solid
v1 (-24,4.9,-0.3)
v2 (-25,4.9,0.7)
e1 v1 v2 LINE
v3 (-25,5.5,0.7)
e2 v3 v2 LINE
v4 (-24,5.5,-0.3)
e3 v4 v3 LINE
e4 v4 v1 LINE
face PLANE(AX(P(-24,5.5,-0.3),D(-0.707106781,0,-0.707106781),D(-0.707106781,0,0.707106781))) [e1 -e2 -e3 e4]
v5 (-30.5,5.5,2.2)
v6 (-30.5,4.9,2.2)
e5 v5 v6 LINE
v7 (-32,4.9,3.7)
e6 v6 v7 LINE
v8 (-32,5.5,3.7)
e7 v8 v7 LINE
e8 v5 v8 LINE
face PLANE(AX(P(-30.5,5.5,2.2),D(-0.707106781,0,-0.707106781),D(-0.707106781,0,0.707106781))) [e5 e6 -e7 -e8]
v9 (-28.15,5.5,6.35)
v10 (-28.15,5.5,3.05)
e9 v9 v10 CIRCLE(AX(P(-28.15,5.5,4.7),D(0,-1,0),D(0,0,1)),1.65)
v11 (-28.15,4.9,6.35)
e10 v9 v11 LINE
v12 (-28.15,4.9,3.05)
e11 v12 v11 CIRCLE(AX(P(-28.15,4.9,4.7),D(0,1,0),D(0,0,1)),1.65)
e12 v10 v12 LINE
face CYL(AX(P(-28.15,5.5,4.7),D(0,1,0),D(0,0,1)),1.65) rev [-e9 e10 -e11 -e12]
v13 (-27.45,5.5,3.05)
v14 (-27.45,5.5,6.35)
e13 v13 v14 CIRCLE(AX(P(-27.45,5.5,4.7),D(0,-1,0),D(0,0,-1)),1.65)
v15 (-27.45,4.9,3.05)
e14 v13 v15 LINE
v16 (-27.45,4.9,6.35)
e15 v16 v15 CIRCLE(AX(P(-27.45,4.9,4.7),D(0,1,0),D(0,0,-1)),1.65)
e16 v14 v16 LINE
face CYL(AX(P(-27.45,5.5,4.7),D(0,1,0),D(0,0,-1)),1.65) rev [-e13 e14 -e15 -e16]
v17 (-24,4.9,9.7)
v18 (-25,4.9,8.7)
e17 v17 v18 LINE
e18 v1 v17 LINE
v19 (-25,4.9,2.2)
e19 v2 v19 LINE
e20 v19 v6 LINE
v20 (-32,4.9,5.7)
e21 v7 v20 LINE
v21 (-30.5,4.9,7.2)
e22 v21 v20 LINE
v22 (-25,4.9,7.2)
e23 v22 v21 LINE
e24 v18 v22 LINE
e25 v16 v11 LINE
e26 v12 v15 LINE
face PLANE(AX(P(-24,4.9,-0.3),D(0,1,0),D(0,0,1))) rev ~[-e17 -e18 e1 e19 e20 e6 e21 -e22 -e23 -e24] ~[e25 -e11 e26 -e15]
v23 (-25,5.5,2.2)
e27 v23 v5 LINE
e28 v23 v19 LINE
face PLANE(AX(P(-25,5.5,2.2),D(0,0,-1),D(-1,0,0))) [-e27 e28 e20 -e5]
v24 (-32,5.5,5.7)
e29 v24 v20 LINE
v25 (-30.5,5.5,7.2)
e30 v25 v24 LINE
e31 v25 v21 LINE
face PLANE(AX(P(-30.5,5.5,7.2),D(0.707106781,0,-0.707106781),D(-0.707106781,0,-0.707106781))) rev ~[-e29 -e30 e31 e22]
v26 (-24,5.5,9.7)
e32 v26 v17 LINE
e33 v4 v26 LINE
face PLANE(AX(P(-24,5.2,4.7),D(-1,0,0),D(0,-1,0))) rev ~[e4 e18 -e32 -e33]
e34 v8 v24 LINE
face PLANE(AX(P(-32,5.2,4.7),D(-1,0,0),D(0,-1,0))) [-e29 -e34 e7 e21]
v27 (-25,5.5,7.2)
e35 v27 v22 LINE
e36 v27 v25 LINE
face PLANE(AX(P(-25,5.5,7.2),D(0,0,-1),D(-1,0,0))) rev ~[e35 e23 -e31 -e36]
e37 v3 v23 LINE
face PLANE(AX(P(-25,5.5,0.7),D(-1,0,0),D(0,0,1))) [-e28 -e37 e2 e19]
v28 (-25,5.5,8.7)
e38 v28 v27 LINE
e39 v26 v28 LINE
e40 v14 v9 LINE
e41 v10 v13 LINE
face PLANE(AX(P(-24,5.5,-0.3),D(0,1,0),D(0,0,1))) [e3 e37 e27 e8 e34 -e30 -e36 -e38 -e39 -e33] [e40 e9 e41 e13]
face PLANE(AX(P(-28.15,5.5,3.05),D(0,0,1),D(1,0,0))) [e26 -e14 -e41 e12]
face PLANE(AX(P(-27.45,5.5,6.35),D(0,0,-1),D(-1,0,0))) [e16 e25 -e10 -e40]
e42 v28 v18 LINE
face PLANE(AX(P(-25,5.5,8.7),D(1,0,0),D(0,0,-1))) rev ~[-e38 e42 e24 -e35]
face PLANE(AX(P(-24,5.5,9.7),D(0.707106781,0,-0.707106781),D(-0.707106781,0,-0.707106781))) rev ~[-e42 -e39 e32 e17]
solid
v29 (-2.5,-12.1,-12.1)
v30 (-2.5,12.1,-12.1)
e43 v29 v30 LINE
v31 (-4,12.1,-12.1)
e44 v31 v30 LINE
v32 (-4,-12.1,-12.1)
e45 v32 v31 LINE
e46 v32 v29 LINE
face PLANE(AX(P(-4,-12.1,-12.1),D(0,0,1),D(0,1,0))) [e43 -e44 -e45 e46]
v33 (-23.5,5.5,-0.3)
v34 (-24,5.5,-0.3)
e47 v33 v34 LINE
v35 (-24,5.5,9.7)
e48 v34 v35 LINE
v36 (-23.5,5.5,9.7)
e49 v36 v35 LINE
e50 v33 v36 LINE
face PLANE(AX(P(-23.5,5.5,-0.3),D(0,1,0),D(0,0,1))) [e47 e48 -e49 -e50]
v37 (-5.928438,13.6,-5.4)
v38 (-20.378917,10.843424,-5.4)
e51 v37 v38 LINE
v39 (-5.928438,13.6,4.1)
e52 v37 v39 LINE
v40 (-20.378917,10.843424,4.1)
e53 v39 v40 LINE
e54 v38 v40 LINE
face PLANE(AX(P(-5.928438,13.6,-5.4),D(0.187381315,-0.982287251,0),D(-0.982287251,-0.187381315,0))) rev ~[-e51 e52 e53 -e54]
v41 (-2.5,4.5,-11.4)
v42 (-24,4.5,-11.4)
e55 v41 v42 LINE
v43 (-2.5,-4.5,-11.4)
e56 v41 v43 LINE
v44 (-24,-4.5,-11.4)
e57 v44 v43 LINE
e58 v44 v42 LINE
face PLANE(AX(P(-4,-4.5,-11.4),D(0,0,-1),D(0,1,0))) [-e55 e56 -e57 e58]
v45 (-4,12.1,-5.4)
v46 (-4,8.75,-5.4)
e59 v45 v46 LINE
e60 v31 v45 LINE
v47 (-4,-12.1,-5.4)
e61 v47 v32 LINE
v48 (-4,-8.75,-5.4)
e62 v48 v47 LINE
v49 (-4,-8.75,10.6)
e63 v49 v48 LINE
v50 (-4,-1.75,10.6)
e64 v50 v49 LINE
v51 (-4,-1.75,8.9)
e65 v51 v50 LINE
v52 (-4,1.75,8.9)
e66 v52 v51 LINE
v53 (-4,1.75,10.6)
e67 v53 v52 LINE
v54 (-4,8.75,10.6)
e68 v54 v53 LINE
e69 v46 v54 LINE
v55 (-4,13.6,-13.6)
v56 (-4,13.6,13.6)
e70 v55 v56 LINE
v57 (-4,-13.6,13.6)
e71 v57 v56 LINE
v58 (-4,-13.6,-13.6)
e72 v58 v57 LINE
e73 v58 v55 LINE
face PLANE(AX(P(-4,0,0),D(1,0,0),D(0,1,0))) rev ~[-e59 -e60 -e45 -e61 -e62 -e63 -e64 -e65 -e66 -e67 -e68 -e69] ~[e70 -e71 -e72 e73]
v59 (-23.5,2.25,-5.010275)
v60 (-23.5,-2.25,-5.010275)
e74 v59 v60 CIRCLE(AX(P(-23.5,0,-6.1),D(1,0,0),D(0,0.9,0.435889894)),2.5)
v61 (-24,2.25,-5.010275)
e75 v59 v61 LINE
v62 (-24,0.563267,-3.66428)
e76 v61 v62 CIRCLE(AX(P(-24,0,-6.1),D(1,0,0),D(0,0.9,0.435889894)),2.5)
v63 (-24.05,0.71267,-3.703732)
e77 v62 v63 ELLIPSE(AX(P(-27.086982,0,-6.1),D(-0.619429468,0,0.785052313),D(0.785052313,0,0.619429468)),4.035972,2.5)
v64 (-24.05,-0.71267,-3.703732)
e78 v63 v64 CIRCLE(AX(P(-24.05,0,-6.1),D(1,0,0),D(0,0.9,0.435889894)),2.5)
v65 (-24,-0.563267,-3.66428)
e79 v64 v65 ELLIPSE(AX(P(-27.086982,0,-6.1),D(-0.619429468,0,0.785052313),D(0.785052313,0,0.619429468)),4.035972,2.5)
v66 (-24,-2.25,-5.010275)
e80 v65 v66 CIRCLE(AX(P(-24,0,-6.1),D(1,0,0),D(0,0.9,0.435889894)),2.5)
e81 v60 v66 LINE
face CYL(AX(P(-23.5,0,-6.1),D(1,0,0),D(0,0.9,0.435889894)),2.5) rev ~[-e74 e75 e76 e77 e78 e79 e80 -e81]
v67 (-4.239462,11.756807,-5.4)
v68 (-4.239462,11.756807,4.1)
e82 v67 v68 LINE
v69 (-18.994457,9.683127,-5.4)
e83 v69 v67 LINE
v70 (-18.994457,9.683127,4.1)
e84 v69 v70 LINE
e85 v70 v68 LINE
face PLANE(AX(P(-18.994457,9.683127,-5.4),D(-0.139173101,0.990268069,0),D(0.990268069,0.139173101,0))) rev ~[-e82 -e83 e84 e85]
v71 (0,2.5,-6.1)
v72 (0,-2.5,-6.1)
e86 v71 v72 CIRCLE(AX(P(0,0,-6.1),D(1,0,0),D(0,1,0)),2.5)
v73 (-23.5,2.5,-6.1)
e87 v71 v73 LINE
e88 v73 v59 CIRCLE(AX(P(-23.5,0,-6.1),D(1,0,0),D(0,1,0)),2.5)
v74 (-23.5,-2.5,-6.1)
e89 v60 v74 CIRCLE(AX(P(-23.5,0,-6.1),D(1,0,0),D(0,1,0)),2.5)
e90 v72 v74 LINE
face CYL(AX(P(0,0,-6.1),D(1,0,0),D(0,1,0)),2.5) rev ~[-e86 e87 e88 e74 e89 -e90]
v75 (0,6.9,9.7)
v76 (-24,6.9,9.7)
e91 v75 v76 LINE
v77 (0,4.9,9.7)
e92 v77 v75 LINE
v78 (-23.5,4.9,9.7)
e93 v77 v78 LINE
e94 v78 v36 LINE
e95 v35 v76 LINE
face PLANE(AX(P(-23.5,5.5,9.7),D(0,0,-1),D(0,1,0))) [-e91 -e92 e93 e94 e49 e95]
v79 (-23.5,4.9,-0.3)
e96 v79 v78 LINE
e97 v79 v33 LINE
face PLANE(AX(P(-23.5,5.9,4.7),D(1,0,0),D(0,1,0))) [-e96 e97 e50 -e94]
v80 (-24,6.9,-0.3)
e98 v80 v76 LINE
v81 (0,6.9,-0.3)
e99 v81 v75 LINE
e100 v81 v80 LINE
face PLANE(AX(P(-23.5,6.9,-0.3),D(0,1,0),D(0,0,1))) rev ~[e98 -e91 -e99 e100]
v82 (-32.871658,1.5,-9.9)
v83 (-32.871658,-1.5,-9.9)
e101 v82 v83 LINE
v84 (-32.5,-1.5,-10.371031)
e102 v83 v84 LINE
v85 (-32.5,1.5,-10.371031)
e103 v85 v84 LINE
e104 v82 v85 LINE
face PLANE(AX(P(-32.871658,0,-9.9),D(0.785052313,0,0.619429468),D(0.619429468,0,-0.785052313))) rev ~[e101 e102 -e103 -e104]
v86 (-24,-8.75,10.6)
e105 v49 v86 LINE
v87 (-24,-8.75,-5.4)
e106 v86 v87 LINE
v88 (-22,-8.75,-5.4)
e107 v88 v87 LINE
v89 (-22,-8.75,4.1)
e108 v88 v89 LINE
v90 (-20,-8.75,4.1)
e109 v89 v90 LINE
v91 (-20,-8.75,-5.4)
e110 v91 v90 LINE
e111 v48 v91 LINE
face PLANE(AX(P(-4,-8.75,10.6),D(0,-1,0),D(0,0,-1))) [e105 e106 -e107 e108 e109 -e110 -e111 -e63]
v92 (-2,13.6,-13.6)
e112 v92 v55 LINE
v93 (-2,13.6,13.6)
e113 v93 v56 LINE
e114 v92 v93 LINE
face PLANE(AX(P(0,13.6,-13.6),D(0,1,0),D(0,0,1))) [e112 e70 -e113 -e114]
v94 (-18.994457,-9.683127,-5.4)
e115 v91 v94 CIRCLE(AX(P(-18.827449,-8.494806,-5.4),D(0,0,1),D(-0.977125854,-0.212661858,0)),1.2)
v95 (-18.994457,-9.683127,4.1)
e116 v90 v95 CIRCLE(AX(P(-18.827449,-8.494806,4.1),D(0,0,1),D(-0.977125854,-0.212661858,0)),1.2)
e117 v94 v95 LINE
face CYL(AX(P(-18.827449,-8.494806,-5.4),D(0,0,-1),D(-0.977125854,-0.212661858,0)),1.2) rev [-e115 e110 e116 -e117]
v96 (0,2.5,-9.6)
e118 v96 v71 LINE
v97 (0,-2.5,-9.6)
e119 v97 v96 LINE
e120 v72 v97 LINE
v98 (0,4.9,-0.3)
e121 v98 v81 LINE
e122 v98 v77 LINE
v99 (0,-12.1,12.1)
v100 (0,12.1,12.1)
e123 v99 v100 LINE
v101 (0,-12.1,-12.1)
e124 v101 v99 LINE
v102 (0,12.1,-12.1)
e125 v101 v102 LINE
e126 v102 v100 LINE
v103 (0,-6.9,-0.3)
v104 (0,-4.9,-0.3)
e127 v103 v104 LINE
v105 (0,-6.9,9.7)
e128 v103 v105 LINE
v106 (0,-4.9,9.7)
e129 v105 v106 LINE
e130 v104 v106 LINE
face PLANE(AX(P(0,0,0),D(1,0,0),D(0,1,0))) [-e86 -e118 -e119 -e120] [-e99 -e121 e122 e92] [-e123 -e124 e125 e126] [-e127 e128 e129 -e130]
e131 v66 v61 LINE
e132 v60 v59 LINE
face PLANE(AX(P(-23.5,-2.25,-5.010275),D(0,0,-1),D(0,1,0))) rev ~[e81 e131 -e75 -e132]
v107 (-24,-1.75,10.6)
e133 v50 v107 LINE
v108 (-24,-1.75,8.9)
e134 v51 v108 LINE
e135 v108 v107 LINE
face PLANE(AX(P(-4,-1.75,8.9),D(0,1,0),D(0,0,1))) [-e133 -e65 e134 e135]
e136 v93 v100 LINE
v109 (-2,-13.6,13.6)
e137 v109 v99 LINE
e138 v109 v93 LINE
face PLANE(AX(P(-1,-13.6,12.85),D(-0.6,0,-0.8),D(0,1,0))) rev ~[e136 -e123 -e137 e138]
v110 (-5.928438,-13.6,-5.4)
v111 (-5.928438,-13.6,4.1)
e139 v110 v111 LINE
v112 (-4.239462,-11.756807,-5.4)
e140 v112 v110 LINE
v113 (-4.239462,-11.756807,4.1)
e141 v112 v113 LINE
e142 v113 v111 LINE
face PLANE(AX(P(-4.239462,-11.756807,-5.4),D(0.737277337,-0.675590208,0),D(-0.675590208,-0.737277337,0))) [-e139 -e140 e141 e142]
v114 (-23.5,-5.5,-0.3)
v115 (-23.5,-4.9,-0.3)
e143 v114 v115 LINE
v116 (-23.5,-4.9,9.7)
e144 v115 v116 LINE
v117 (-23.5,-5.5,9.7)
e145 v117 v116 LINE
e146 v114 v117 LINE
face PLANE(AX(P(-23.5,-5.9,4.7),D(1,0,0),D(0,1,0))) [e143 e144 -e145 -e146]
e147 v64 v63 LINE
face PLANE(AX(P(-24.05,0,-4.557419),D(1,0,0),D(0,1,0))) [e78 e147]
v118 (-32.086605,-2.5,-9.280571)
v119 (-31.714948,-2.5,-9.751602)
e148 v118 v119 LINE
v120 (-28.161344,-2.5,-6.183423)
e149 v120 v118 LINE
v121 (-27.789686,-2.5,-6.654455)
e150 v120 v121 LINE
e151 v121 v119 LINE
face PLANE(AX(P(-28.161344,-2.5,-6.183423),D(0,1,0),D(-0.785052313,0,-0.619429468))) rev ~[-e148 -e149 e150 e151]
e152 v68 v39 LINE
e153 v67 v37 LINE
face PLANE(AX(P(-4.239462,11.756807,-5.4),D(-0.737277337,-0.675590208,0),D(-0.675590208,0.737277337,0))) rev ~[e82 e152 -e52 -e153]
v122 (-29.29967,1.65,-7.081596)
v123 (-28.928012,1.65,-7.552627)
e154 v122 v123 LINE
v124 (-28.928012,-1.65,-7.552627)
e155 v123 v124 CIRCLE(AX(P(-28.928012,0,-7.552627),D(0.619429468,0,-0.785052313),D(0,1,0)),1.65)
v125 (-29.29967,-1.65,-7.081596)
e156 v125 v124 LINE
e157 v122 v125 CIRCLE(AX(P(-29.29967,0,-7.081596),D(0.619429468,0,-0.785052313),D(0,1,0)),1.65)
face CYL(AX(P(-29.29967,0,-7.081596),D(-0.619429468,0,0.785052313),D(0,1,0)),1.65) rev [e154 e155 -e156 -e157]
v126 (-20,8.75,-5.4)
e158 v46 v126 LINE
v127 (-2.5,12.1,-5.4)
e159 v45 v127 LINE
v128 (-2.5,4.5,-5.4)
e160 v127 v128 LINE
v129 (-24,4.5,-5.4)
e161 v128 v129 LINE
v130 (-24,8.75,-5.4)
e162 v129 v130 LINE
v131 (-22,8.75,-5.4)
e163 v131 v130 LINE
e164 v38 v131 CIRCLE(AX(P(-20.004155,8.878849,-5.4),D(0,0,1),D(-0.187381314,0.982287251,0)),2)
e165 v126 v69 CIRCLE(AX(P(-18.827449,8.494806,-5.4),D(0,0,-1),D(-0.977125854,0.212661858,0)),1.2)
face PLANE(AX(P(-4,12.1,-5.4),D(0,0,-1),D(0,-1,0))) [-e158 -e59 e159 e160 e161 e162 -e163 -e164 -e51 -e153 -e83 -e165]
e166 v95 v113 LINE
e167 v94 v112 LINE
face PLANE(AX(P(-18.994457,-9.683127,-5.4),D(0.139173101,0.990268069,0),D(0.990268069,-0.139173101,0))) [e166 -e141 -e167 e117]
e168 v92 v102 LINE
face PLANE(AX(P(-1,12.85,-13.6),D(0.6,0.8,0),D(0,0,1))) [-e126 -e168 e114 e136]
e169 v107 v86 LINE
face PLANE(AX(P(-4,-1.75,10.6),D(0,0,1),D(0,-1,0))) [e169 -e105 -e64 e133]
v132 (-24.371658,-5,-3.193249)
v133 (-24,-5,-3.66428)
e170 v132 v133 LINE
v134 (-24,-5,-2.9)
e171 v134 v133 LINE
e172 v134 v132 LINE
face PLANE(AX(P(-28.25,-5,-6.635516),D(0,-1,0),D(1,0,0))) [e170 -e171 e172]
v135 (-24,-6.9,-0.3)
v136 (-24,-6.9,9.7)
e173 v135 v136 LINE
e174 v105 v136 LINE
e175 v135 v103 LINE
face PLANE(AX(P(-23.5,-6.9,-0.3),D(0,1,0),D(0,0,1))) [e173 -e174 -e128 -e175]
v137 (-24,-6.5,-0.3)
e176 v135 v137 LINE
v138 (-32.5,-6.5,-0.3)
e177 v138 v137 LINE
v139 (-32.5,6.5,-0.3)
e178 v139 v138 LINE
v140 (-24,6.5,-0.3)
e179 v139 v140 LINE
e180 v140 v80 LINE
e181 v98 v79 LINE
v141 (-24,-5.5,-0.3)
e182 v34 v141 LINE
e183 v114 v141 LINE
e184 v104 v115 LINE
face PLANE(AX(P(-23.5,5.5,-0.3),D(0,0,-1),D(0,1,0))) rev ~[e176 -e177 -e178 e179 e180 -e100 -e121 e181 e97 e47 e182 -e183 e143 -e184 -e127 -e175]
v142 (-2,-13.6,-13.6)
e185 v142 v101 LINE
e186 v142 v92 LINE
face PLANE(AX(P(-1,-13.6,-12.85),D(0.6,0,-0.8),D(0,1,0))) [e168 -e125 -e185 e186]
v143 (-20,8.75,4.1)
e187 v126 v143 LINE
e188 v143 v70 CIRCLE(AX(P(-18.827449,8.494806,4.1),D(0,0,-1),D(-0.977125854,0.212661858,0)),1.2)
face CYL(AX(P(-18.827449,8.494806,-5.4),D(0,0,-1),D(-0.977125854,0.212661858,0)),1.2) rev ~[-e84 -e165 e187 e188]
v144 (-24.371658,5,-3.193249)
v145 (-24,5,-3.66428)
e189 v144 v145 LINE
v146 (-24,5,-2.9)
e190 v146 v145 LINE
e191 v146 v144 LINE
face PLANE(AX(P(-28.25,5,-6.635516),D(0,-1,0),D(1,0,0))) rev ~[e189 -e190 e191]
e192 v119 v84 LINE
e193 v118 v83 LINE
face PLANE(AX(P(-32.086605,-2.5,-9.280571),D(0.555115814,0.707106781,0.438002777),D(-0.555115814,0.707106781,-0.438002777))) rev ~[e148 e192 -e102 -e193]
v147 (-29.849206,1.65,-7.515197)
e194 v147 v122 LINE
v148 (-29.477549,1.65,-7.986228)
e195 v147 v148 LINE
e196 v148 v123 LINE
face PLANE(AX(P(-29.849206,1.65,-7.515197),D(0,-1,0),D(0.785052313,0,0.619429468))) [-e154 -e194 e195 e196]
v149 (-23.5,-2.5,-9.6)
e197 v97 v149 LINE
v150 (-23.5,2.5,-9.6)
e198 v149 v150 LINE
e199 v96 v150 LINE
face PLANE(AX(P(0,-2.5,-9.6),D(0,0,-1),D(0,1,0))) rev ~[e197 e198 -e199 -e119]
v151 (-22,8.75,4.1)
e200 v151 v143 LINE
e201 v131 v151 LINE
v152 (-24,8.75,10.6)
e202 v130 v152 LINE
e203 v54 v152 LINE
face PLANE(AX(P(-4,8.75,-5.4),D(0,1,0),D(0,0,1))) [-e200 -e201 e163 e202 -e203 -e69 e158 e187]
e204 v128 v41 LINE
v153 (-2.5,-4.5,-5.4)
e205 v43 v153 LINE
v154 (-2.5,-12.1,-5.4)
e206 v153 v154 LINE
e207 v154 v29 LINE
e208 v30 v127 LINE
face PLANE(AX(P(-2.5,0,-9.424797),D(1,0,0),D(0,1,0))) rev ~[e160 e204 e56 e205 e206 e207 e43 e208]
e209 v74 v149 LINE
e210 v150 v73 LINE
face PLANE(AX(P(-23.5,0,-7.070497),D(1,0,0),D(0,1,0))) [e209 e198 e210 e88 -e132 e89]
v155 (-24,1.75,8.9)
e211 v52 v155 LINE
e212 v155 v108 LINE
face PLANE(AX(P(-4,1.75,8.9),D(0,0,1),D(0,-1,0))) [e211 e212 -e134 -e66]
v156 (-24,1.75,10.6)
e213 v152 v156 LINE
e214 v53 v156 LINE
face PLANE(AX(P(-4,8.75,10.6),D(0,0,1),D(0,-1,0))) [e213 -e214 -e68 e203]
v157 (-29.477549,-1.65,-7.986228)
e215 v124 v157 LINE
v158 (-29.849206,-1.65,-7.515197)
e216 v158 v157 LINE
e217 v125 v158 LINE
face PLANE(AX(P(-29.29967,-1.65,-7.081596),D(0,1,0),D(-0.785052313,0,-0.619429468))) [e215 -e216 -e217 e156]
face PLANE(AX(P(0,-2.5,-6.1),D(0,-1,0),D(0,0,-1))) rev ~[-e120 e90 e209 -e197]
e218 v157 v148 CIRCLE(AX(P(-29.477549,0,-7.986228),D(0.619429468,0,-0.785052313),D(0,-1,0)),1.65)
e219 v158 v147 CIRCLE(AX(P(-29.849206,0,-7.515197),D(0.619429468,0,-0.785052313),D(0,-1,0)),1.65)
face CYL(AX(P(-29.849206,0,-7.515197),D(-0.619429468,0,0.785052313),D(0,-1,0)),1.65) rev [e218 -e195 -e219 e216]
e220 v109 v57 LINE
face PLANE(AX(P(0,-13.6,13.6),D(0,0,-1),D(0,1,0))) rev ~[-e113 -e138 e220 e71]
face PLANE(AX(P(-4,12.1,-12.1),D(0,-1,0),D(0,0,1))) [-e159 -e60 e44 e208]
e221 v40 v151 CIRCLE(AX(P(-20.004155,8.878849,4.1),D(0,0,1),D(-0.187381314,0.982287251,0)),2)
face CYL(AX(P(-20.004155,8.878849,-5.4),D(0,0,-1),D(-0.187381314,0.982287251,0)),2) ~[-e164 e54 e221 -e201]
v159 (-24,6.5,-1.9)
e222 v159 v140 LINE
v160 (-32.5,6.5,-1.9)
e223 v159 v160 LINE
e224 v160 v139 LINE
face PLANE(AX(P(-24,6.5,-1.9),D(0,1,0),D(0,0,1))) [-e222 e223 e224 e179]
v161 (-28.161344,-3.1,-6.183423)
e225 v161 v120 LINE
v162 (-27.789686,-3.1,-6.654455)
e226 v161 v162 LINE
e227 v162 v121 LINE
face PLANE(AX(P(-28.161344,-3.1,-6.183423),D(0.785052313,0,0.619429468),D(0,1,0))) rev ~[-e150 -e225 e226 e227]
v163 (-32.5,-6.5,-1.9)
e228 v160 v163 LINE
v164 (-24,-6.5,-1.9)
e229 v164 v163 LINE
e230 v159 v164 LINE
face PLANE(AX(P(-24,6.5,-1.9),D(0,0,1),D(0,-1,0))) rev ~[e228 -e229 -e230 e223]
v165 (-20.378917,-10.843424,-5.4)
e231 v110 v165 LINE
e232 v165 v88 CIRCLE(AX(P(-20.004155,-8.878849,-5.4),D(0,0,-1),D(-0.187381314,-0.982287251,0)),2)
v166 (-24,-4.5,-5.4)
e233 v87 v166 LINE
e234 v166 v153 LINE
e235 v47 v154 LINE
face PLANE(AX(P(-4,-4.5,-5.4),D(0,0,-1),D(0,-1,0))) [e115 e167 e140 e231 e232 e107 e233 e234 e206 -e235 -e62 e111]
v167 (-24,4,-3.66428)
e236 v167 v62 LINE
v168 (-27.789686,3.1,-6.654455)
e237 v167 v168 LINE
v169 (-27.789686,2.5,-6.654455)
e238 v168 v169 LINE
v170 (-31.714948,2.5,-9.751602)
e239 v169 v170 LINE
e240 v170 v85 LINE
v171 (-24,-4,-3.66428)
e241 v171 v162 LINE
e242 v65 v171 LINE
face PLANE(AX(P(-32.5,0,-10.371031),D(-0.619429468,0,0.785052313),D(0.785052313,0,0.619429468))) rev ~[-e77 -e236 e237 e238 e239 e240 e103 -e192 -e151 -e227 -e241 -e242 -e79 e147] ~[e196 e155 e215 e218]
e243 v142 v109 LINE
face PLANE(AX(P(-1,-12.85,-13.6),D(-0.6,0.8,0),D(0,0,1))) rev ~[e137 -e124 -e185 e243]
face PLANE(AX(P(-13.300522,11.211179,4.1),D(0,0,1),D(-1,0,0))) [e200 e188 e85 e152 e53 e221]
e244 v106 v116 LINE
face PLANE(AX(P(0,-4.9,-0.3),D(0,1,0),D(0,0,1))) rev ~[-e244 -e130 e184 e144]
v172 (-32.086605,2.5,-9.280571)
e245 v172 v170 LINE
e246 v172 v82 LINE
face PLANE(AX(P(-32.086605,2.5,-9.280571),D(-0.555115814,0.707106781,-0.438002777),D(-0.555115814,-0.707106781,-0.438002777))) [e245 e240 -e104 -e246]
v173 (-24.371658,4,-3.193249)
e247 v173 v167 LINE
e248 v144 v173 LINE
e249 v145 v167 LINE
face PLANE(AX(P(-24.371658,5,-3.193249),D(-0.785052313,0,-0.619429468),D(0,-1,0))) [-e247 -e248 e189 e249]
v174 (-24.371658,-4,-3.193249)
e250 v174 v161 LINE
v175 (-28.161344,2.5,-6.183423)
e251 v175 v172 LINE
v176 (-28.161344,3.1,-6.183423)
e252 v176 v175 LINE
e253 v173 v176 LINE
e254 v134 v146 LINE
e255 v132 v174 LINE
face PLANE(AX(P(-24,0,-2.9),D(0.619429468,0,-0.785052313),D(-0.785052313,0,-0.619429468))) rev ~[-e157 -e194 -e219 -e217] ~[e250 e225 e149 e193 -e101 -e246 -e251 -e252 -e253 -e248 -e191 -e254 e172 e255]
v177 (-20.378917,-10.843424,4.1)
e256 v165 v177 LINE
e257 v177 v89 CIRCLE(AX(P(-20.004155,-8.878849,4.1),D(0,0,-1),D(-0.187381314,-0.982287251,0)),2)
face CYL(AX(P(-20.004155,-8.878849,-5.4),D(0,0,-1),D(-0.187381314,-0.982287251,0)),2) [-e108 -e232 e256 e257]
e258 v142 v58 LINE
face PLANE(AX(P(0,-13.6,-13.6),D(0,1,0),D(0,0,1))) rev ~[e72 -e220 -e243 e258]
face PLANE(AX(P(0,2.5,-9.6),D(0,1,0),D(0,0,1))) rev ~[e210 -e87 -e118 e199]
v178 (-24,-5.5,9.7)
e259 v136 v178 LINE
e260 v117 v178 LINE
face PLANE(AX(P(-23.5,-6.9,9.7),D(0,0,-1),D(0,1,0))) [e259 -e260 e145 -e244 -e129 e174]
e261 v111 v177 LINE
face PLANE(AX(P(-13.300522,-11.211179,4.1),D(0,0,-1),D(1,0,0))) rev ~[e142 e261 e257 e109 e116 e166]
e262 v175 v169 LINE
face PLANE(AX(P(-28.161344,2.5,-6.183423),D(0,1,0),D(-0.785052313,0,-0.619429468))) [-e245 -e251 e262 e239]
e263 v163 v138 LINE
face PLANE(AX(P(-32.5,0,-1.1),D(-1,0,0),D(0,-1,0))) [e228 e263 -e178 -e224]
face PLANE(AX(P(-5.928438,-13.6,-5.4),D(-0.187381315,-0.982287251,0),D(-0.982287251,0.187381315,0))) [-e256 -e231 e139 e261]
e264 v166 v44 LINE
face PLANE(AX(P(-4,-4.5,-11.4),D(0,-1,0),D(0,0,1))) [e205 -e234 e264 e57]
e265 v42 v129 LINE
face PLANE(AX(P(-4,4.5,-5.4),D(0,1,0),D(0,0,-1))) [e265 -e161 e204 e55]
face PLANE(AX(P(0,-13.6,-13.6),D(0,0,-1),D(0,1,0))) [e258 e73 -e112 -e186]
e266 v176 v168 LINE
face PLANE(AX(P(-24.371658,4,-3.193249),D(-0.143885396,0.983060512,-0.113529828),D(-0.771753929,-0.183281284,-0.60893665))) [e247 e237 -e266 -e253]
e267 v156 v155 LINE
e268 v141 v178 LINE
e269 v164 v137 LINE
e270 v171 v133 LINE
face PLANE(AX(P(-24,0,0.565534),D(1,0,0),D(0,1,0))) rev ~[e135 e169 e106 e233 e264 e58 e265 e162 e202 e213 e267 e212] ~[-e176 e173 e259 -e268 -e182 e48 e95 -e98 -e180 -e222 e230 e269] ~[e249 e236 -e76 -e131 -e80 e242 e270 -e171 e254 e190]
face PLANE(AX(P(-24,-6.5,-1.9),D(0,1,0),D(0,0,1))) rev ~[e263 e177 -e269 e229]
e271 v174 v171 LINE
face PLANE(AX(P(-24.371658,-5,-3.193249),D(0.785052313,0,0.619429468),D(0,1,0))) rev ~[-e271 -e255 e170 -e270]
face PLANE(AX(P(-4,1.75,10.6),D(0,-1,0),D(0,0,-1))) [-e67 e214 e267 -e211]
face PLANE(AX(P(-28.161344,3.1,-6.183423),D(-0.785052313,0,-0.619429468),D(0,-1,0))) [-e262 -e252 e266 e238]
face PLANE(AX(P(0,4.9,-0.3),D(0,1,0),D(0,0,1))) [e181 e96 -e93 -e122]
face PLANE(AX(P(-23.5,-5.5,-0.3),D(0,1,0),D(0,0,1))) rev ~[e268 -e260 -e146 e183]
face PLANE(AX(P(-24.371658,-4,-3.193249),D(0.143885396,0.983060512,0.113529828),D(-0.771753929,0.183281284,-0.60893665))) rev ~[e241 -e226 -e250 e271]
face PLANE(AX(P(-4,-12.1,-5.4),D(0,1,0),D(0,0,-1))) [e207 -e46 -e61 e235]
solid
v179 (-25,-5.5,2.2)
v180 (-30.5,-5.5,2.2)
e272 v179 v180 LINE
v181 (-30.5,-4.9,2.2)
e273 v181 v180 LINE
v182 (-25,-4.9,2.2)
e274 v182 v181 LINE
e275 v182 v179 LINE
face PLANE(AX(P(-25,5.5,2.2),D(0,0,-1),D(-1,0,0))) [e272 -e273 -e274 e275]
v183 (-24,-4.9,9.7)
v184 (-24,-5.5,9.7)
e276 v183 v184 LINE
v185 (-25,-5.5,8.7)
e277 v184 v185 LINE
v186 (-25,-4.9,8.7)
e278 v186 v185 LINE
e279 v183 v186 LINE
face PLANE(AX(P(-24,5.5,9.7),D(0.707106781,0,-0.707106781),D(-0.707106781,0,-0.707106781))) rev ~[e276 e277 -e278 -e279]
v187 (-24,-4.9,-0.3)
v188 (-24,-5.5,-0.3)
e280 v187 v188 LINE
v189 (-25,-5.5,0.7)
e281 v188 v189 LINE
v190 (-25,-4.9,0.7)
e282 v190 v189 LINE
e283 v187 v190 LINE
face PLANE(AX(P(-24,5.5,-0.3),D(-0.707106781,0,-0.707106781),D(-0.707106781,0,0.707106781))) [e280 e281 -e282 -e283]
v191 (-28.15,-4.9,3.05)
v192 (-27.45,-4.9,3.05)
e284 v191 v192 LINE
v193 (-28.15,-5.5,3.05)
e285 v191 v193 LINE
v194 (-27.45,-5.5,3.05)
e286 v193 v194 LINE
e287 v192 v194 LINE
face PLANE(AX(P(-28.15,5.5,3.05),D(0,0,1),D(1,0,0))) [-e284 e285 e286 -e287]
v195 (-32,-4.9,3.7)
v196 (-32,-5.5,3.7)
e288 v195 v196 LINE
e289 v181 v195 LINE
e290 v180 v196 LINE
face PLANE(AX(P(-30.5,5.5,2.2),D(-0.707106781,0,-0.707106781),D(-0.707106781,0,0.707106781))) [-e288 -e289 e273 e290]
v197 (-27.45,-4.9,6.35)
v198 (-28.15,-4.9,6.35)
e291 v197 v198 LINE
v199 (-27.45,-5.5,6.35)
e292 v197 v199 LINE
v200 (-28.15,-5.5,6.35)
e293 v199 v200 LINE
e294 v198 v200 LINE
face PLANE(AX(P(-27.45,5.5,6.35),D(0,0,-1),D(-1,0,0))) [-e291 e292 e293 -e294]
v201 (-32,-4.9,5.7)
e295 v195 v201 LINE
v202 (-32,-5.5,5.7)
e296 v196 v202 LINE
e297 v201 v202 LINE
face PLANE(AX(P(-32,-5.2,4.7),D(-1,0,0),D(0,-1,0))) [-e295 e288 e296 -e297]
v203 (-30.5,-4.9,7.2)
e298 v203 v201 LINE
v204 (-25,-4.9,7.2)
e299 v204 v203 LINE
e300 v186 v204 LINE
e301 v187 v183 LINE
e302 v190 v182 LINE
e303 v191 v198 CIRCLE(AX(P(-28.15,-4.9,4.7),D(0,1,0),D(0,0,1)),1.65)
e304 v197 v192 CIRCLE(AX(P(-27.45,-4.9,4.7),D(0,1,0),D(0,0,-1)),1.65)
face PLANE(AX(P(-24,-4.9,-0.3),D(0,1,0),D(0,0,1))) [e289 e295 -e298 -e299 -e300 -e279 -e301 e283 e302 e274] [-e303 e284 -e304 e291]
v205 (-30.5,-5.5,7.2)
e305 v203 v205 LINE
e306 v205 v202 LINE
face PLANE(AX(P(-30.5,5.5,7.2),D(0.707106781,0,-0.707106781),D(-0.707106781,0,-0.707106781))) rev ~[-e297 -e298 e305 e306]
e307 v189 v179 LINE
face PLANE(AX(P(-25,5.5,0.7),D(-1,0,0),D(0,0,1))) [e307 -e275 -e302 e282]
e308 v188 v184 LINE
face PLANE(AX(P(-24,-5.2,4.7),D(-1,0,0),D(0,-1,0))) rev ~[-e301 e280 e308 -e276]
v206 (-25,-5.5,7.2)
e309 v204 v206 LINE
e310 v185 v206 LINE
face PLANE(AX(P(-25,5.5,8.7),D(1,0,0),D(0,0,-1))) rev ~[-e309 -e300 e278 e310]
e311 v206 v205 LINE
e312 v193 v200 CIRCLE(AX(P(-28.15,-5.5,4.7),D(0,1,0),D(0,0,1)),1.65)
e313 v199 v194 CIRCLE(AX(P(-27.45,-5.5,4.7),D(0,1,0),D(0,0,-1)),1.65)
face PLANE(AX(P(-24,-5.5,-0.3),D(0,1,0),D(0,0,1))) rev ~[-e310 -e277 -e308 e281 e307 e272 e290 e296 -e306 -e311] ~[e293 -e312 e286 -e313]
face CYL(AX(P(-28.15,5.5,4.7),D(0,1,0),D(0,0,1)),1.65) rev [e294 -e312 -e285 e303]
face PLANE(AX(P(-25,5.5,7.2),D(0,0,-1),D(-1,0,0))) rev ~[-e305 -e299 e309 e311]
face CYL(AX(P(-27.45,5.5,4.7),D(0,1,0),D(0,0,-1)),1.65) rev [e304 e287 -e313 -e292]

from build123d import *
from OCP.BRepFilletAPI import BRepFilletAPI_MakeChamfer

# Parameters (mm, degrees)
CROQUIS1_W                = 27.2
CROQUIS1_H                = 27.2
SALIENTE_EXTRUIR1_DEPTH   = 4
CHAFL_N1_SIZE             = 2
CHAFL_N1_SIZE2            = 1.5
SALIENTE_EXTRUIR2_DEPTH   = 20
CORTAR_EXTRUIR1_DEPTH     = 1.5
SALIENTE_EXTRUIR3_DEPTH   = 9.5
CROQUIS6_W                = 13
CROQUIS6_H                = 1.6
SALIENTE_EXTRUIR4_DEPTH   = 8.5
CROQUIS7_W                = 0.6
CROQUIS7_H                = 10
SALIENTE_EXTRUIR5_DEPTH   = 8
SALIENTE_EXTRUIR5_2_DEPTH = 8
CORTAR_EXTRUIR2_DEPTH     = 41.075179351
SALIENTE_EXTRUIR6_DEPTH   = 5
CORTAR_EXTRUIR3_DEPTH     = 0.6
CROQUIS11_W               = 2
CROQUIS11_H               = 10
CORTAR_EXTRUIR4_DEPTH     = 23.5
CROQUIS12_W               = 1.4
CROQUIS12_H               = 10
CORTAR_EXTRUIR5_DEPTH     = 0.55


with BuildPart() as part:
    # Croquis1 → Saliente-Extruir1 (new body)
    with BuildSketch(Plane.YZ):
        Rectangle(CROQUIS1_W, CROQUIS1_H)
    extrude(amount=-SALIENTE_EXTRUIR1_DEPTH)

    # Chaflán1: one chamfer whose edges measure the first distance from different faces: ONE call of the kernel's chamfer builder (chamfer() names one face for all edges)
    chafl_n1_edges_1 = [part.edges().sort_by_distance(p)[0] for p in [
        (0, 0, -13.6),
    ]]
    chafl_n1_side_1 = [part.faces().sort_by_distance(p)[0] for p in [
        (-2, 0, -13.6),
    ]]
    chafl_n1_edges_2 = [part.edges().sort_by_distance(p)[0] for p in [
        (0, -13.6, 0),
    ]]
    chafl_n1_side_2 = [part.faces().sort_by_distance(p)[0] for p in [
        (-2, -13.6, 0),
    ]]
    chafl_n1_edges_3 = [part.edges().sort_by_distance(p)[0] for p in [
        (0, 0, 13.6),
    ]]
    chafl_n1_side_3 = [part.faces().sort_by_distance(p)[0] for p in [
        (-2, 0, 13.6),
    ]]
    chafl_n1_edges_4 = [part.edges().sort_by_distance(p)[0] for p in [
        (0, 13.6, 0),
    ]]
    chafl_n1_side_4 = [part.faces().sort_by_distance(p)[0] for p in [
        (-2, 13.6, 0),
    ]]
    chafl_n1 = BRepFilletAPI_MakeChamfer(part.part.solid().wrapped)
    for e in chafl_n1_edges_1:
        chafl_n1.Add(CHAFL_N1_SIZE, CHAFL_N1_SIZE2, e.wrapped, chafl_n1_side_1[0].wrapped)  # the first distance lies on this face
    for e in chafl_n1_edges_2:
        chafl_n1.Add(CHAFL_N1_SIZE, CHAFL_N1_SIZE2, e.wrapped, chafl_n1_side_2[0].wrapped)  # the first distance lies on this face
    for e in chafl_n1_edges_3:
        chafl_n1.Add(CHAFL_N1_SIZE, CHAFL_N1_SIZE2, e.wrapped, chafl_n1_side_3[0].wrapped)  # the first distance lies on this face
    for e in chafl_n1_edges_4:
        chafl_n1.Add(CHAFL_N1_SIZE, CHAFL_N1_SIZE2, e.wrapped, chafl_n1_side_4[0].wrapped)  # the first distance lies on this face
    add(Compound.cast(chafl_n1.Shape()), mode=Mode.REPLACE)

    # Croquis3 → Saliente-Extruir2 (add)
    with BuildSketch(Plane(origin=(-4, 0, 0), x_dir=(0, -1, 0), z_dir=(-1, 0, 0))):
        Polygon((1.75, 10.6), (8.75, 10.6), (8.75, -5.4), (4.5, -5.4), (4.5, -11.4), (-4.5, -11.4), (-4.5, -5.4), (-8.75, -5.4), (-8.75, 10.6), (-1.75, 10.6), (-1.75, 8.9), (1.75, 8.9), align=None)
    extrude(amount=SALIENTE_EXTRUIR2_DEPTH)

    # Croquis4 → Cortar-Extruir1 (cut)
    with BuildSketch(Plane(origin=(-4, 0, 0), x_dir=(0, -1, 0), z_dir=(-1, 0, 0))):
        Polygon((-12.1, -5.4), (-4.5, -5.4), (-4.5, -11.4), (4.5, -11.4), (4.5, -5.4), (12.1, -5.4), (12.1, -12.1), (-12.1, -12.1), align=None)
    extrude(amount=-CORTAR_EXTRUIR1_DEPTH, mode=Mode.SUBTRACT)

    # Croquis5 → Saliente-Extruir3 (add)
    with BuildSketch(Plane(origin=(0, 0, -5.4), x_dir=(1, 0, 0), z_dir=(0, 0, -1))):
        with BuildLine():
            Line((-18.994456696, 9.683127454), (-4.239462472, 11.756806658))
            Line((-4.239462472, 11.756806658), (-5.928437991, 13.6))
            Line((-5.928437991, 13.6), (-20.378917468, 10.843423613))
            ThreePointArc((-20.378917468, 10.843423613), (-21.585467879, 10.103369046), (-22, 8.75))
            Line((-22, 8.75), (-20, 8.75))
            ThreePointArc((-20, 8.75), (-19.643712486, 9.374415844), (-18.994456696, 9.683127454))
        make_face()
        with BuildLine():
            Line((-5.928437991, -13.6), (-20.378917468, -10.843423613))
            ThreePointArc((-20.378917468, -10.843423613), (-21.585467879, -10.103369046), (-22, -8.75))
            Line((-22, -8.75), (-20, -8.75))
            ThreePointArc((-20, -8.75), (-19.643712486, -9.374415844), (-18.994456696, -9.683127454))
            Line((-18.994456696, -9.683127454), (-4.239462472, -11.756806658))
            Line((-4.239462472, -11.756806658), (-5.928437991, -13.6))
        make_face()
    extrude(amount=-SALIENTE_EXTRUIR3_DEPTH)

    # Croquis6 → Saliente-Extruir4 (add)
    with BuildSketch(Plane(origin=(-24, 0, 0), x_dir=(0, -1, 0), z_dir=(-1, 0, 0))):
        with Locations((0, -1.1)):
            Rectangle(CROQUIS6_W, CROQUIS6_H)
    extrude(amount=SALIENTE_EXTRUIR4_DEPTH)

    # Croquis9 → Saliente-Extruir6 (add, symmetric)
    with BuildSketch(Plane(origin=(0, 0, 0), x_dir=(-1, 0, 0), z_dir=(0, 1, 0))):
        Polygon((24, -2.9), (32.871657681, -9.9), (32.5, -10.371031388), (23.628342319, -3.371031388), align=None)
    extrude(amount=SALIENTE_EXTRUIR6_DEPTH, both=True)

    # Croquis10 → Cortar-Extruir3 (cut)
    with BuildSketch(Plane(origin=(-7.798403611, 0, 9.883538185), x_dir=(0.7850523133577078, 0, 0.6194294675681095), z_dir=(-0.6194294675681093, 0, 0.7850523133577076))):
        Polygon((-31.938322635, -1.5), (-31.938322635, -5), (-21.111018702, -5), (-21.111018702, -4), (-25.938322635, -3.1), (-25.938322635, -2.5), (-30.938322635, -2.5), align=None)
        Polygon((-30.938322635, 2.5), (-31.938322635, 1.5), (-31.938322635, 5), (-21.111018702, 5), (-21.111018702, 4), (-25.938322635, 3.1), (-25.938322635, 2.5), align=None)
        with BuildLine():
            Line((-28.088322635, 1.65), (-27.388322635, 1.65))
            ThreePointArc((-27.388322635, 1.65), (-25.738322635, 0), (-27.388322635, -1.65))
            Line((-27.388322635, -1.65), (-28.088322635, -1.65))
            ThreePointArc((-28.088322635, -1.65), (-29.738322635, 0), (-28.088322635, 1.65))
        make_face()
    extrude(amount=-CORTAR_EXTRUIR3_DEPTH, mode=Mode.SUBTRACT)

    # Croquis11 → Cortar-Extruir4 (cut)
    with BuildSketch(Plane.YZ):
        with Locations((-5.9, 4.7)):
            Rectangle(CROQUIS11_W, CROQUIS11_H)
        with Locations((5.9, 4.7)):
            Rectangle(CROQUIS11_W, CROQUIS11_H)
        with BuildLine():
            Line((-2.5, -9.6), (2.5, -9.6))
            Line((2.5, -9.6), (2.5, -6.1))
            ThreePointArc((2.5, -6.1), (0, -3.6), (-2.5, -6.1))
            Line((-2.5, -6.1), (-2.5, -9.6))
        make_face()
    extrude(amount=-CORTAR_EXTRUIR4_DEPTH, mode=Mode.SUBTRACT)

    # Croquis12 → Cortar-Extruir5 (cut)
    with BuildSketch(Plane.YZ.offset(-23.5)):
        with Locations((-6.2, 4.7)):
            Rectangle(CROQUIS12_W, CROQUIS12_H)
        with Locations((6.2, 4.7)):
            Rectangle(CROQUIS12_W, CROQUIS12_H)
        with BuildLine():
            Line((-2.25, -5.010275264), (2.25, -5.010275264))
            ThreePointArc((2.25, -5.010275264), (0, -3.6), (-2.25, -5.010275264))
        make_face()
    extrude(amount=-CORTAR_EXTRUIR5_DEPTH, mode=Mode.SUBTRACT)


with BuildPart() as body_2:
    # Croquis7 → Saliente-Extruir5 (new body)
    with BuildSketch(Plane(origin=(-24, 0, 0), x_dir=(0, -1, 0), z_dir=(-1, 0, 0))):
        with Locations((-5.2, 4.7)):
            Rectangle(CROQUIS7_W, CROQUIS7_H)
    extrude(amount=SALIENTE_EXTRUIR5_DEPTH)


with BuildPart() as body_3:
    # Croquis7 → Saliente-Extruir5 2 (new body)
    with BuildSketch(Plane(origin=(-24, 0, 0), x_dir=(0, -1, 0), z_dir=(-1, 0, 0))):
        with Locations((5.2, 4.7)):
            Rectangle(CROQUIS7_W, CROQUIS7_H)
    extrude(amount=SALIENTE_EXTRUIR5_2_DEPTH)


with BuildPart() as cortar_extruir2_tool:
    # Croquis8 → Cortar-Extruir2 (new, through all)
    with BuildSketch(Plane(origin=(0, 5.5, 0), x_dir=(-1, 0, 0), z_dir=(0, 1, 0))):
        Polygon((24, -0.3), (25, 0.7), (25, 2.2), (30.5, 2.2), (32, 3.7), (32, -0.3), align=None)
        Polygon((32, 5.7), (32, 9.7), (24, 9.7), (25, 8.7), (25, 7.2), (30.5, 7.2), align=None)
        with BuildLine():
            Line((27.45, 6.35), (28.15, 6.35))
            ThreePointArc((28.15, 6.35), (29.8, 4.7), (28.15, 3.05))
            Line((28.15, 3.05), (27.45, 3.05))
            ThreePointArc((27.45, 3.05), (25.8, 4.7), (27.45, 6.35))
        make_face()
    extrude(amount=-CORTAR_EXTRUIR2_DEPTH)


with BuildPart() as body_2_1:
    add(body_2.part)

    # Cortar-Extruir2: cut by cortar_extruir2_tool
    add(cortar_extruir2_tool.part, mode=Mode.SUBTRACT)


with BuildPart() as body_3_1:
    add(body_3.part)

    # Cortar-Extruir2: cut by cortar_extruir2_tool
    add(cortar_extruir2_tool.part, mode=Mode.SUBTRACT)


solid = Compound([part.part, body_2_1.part, body_3_1.part])
